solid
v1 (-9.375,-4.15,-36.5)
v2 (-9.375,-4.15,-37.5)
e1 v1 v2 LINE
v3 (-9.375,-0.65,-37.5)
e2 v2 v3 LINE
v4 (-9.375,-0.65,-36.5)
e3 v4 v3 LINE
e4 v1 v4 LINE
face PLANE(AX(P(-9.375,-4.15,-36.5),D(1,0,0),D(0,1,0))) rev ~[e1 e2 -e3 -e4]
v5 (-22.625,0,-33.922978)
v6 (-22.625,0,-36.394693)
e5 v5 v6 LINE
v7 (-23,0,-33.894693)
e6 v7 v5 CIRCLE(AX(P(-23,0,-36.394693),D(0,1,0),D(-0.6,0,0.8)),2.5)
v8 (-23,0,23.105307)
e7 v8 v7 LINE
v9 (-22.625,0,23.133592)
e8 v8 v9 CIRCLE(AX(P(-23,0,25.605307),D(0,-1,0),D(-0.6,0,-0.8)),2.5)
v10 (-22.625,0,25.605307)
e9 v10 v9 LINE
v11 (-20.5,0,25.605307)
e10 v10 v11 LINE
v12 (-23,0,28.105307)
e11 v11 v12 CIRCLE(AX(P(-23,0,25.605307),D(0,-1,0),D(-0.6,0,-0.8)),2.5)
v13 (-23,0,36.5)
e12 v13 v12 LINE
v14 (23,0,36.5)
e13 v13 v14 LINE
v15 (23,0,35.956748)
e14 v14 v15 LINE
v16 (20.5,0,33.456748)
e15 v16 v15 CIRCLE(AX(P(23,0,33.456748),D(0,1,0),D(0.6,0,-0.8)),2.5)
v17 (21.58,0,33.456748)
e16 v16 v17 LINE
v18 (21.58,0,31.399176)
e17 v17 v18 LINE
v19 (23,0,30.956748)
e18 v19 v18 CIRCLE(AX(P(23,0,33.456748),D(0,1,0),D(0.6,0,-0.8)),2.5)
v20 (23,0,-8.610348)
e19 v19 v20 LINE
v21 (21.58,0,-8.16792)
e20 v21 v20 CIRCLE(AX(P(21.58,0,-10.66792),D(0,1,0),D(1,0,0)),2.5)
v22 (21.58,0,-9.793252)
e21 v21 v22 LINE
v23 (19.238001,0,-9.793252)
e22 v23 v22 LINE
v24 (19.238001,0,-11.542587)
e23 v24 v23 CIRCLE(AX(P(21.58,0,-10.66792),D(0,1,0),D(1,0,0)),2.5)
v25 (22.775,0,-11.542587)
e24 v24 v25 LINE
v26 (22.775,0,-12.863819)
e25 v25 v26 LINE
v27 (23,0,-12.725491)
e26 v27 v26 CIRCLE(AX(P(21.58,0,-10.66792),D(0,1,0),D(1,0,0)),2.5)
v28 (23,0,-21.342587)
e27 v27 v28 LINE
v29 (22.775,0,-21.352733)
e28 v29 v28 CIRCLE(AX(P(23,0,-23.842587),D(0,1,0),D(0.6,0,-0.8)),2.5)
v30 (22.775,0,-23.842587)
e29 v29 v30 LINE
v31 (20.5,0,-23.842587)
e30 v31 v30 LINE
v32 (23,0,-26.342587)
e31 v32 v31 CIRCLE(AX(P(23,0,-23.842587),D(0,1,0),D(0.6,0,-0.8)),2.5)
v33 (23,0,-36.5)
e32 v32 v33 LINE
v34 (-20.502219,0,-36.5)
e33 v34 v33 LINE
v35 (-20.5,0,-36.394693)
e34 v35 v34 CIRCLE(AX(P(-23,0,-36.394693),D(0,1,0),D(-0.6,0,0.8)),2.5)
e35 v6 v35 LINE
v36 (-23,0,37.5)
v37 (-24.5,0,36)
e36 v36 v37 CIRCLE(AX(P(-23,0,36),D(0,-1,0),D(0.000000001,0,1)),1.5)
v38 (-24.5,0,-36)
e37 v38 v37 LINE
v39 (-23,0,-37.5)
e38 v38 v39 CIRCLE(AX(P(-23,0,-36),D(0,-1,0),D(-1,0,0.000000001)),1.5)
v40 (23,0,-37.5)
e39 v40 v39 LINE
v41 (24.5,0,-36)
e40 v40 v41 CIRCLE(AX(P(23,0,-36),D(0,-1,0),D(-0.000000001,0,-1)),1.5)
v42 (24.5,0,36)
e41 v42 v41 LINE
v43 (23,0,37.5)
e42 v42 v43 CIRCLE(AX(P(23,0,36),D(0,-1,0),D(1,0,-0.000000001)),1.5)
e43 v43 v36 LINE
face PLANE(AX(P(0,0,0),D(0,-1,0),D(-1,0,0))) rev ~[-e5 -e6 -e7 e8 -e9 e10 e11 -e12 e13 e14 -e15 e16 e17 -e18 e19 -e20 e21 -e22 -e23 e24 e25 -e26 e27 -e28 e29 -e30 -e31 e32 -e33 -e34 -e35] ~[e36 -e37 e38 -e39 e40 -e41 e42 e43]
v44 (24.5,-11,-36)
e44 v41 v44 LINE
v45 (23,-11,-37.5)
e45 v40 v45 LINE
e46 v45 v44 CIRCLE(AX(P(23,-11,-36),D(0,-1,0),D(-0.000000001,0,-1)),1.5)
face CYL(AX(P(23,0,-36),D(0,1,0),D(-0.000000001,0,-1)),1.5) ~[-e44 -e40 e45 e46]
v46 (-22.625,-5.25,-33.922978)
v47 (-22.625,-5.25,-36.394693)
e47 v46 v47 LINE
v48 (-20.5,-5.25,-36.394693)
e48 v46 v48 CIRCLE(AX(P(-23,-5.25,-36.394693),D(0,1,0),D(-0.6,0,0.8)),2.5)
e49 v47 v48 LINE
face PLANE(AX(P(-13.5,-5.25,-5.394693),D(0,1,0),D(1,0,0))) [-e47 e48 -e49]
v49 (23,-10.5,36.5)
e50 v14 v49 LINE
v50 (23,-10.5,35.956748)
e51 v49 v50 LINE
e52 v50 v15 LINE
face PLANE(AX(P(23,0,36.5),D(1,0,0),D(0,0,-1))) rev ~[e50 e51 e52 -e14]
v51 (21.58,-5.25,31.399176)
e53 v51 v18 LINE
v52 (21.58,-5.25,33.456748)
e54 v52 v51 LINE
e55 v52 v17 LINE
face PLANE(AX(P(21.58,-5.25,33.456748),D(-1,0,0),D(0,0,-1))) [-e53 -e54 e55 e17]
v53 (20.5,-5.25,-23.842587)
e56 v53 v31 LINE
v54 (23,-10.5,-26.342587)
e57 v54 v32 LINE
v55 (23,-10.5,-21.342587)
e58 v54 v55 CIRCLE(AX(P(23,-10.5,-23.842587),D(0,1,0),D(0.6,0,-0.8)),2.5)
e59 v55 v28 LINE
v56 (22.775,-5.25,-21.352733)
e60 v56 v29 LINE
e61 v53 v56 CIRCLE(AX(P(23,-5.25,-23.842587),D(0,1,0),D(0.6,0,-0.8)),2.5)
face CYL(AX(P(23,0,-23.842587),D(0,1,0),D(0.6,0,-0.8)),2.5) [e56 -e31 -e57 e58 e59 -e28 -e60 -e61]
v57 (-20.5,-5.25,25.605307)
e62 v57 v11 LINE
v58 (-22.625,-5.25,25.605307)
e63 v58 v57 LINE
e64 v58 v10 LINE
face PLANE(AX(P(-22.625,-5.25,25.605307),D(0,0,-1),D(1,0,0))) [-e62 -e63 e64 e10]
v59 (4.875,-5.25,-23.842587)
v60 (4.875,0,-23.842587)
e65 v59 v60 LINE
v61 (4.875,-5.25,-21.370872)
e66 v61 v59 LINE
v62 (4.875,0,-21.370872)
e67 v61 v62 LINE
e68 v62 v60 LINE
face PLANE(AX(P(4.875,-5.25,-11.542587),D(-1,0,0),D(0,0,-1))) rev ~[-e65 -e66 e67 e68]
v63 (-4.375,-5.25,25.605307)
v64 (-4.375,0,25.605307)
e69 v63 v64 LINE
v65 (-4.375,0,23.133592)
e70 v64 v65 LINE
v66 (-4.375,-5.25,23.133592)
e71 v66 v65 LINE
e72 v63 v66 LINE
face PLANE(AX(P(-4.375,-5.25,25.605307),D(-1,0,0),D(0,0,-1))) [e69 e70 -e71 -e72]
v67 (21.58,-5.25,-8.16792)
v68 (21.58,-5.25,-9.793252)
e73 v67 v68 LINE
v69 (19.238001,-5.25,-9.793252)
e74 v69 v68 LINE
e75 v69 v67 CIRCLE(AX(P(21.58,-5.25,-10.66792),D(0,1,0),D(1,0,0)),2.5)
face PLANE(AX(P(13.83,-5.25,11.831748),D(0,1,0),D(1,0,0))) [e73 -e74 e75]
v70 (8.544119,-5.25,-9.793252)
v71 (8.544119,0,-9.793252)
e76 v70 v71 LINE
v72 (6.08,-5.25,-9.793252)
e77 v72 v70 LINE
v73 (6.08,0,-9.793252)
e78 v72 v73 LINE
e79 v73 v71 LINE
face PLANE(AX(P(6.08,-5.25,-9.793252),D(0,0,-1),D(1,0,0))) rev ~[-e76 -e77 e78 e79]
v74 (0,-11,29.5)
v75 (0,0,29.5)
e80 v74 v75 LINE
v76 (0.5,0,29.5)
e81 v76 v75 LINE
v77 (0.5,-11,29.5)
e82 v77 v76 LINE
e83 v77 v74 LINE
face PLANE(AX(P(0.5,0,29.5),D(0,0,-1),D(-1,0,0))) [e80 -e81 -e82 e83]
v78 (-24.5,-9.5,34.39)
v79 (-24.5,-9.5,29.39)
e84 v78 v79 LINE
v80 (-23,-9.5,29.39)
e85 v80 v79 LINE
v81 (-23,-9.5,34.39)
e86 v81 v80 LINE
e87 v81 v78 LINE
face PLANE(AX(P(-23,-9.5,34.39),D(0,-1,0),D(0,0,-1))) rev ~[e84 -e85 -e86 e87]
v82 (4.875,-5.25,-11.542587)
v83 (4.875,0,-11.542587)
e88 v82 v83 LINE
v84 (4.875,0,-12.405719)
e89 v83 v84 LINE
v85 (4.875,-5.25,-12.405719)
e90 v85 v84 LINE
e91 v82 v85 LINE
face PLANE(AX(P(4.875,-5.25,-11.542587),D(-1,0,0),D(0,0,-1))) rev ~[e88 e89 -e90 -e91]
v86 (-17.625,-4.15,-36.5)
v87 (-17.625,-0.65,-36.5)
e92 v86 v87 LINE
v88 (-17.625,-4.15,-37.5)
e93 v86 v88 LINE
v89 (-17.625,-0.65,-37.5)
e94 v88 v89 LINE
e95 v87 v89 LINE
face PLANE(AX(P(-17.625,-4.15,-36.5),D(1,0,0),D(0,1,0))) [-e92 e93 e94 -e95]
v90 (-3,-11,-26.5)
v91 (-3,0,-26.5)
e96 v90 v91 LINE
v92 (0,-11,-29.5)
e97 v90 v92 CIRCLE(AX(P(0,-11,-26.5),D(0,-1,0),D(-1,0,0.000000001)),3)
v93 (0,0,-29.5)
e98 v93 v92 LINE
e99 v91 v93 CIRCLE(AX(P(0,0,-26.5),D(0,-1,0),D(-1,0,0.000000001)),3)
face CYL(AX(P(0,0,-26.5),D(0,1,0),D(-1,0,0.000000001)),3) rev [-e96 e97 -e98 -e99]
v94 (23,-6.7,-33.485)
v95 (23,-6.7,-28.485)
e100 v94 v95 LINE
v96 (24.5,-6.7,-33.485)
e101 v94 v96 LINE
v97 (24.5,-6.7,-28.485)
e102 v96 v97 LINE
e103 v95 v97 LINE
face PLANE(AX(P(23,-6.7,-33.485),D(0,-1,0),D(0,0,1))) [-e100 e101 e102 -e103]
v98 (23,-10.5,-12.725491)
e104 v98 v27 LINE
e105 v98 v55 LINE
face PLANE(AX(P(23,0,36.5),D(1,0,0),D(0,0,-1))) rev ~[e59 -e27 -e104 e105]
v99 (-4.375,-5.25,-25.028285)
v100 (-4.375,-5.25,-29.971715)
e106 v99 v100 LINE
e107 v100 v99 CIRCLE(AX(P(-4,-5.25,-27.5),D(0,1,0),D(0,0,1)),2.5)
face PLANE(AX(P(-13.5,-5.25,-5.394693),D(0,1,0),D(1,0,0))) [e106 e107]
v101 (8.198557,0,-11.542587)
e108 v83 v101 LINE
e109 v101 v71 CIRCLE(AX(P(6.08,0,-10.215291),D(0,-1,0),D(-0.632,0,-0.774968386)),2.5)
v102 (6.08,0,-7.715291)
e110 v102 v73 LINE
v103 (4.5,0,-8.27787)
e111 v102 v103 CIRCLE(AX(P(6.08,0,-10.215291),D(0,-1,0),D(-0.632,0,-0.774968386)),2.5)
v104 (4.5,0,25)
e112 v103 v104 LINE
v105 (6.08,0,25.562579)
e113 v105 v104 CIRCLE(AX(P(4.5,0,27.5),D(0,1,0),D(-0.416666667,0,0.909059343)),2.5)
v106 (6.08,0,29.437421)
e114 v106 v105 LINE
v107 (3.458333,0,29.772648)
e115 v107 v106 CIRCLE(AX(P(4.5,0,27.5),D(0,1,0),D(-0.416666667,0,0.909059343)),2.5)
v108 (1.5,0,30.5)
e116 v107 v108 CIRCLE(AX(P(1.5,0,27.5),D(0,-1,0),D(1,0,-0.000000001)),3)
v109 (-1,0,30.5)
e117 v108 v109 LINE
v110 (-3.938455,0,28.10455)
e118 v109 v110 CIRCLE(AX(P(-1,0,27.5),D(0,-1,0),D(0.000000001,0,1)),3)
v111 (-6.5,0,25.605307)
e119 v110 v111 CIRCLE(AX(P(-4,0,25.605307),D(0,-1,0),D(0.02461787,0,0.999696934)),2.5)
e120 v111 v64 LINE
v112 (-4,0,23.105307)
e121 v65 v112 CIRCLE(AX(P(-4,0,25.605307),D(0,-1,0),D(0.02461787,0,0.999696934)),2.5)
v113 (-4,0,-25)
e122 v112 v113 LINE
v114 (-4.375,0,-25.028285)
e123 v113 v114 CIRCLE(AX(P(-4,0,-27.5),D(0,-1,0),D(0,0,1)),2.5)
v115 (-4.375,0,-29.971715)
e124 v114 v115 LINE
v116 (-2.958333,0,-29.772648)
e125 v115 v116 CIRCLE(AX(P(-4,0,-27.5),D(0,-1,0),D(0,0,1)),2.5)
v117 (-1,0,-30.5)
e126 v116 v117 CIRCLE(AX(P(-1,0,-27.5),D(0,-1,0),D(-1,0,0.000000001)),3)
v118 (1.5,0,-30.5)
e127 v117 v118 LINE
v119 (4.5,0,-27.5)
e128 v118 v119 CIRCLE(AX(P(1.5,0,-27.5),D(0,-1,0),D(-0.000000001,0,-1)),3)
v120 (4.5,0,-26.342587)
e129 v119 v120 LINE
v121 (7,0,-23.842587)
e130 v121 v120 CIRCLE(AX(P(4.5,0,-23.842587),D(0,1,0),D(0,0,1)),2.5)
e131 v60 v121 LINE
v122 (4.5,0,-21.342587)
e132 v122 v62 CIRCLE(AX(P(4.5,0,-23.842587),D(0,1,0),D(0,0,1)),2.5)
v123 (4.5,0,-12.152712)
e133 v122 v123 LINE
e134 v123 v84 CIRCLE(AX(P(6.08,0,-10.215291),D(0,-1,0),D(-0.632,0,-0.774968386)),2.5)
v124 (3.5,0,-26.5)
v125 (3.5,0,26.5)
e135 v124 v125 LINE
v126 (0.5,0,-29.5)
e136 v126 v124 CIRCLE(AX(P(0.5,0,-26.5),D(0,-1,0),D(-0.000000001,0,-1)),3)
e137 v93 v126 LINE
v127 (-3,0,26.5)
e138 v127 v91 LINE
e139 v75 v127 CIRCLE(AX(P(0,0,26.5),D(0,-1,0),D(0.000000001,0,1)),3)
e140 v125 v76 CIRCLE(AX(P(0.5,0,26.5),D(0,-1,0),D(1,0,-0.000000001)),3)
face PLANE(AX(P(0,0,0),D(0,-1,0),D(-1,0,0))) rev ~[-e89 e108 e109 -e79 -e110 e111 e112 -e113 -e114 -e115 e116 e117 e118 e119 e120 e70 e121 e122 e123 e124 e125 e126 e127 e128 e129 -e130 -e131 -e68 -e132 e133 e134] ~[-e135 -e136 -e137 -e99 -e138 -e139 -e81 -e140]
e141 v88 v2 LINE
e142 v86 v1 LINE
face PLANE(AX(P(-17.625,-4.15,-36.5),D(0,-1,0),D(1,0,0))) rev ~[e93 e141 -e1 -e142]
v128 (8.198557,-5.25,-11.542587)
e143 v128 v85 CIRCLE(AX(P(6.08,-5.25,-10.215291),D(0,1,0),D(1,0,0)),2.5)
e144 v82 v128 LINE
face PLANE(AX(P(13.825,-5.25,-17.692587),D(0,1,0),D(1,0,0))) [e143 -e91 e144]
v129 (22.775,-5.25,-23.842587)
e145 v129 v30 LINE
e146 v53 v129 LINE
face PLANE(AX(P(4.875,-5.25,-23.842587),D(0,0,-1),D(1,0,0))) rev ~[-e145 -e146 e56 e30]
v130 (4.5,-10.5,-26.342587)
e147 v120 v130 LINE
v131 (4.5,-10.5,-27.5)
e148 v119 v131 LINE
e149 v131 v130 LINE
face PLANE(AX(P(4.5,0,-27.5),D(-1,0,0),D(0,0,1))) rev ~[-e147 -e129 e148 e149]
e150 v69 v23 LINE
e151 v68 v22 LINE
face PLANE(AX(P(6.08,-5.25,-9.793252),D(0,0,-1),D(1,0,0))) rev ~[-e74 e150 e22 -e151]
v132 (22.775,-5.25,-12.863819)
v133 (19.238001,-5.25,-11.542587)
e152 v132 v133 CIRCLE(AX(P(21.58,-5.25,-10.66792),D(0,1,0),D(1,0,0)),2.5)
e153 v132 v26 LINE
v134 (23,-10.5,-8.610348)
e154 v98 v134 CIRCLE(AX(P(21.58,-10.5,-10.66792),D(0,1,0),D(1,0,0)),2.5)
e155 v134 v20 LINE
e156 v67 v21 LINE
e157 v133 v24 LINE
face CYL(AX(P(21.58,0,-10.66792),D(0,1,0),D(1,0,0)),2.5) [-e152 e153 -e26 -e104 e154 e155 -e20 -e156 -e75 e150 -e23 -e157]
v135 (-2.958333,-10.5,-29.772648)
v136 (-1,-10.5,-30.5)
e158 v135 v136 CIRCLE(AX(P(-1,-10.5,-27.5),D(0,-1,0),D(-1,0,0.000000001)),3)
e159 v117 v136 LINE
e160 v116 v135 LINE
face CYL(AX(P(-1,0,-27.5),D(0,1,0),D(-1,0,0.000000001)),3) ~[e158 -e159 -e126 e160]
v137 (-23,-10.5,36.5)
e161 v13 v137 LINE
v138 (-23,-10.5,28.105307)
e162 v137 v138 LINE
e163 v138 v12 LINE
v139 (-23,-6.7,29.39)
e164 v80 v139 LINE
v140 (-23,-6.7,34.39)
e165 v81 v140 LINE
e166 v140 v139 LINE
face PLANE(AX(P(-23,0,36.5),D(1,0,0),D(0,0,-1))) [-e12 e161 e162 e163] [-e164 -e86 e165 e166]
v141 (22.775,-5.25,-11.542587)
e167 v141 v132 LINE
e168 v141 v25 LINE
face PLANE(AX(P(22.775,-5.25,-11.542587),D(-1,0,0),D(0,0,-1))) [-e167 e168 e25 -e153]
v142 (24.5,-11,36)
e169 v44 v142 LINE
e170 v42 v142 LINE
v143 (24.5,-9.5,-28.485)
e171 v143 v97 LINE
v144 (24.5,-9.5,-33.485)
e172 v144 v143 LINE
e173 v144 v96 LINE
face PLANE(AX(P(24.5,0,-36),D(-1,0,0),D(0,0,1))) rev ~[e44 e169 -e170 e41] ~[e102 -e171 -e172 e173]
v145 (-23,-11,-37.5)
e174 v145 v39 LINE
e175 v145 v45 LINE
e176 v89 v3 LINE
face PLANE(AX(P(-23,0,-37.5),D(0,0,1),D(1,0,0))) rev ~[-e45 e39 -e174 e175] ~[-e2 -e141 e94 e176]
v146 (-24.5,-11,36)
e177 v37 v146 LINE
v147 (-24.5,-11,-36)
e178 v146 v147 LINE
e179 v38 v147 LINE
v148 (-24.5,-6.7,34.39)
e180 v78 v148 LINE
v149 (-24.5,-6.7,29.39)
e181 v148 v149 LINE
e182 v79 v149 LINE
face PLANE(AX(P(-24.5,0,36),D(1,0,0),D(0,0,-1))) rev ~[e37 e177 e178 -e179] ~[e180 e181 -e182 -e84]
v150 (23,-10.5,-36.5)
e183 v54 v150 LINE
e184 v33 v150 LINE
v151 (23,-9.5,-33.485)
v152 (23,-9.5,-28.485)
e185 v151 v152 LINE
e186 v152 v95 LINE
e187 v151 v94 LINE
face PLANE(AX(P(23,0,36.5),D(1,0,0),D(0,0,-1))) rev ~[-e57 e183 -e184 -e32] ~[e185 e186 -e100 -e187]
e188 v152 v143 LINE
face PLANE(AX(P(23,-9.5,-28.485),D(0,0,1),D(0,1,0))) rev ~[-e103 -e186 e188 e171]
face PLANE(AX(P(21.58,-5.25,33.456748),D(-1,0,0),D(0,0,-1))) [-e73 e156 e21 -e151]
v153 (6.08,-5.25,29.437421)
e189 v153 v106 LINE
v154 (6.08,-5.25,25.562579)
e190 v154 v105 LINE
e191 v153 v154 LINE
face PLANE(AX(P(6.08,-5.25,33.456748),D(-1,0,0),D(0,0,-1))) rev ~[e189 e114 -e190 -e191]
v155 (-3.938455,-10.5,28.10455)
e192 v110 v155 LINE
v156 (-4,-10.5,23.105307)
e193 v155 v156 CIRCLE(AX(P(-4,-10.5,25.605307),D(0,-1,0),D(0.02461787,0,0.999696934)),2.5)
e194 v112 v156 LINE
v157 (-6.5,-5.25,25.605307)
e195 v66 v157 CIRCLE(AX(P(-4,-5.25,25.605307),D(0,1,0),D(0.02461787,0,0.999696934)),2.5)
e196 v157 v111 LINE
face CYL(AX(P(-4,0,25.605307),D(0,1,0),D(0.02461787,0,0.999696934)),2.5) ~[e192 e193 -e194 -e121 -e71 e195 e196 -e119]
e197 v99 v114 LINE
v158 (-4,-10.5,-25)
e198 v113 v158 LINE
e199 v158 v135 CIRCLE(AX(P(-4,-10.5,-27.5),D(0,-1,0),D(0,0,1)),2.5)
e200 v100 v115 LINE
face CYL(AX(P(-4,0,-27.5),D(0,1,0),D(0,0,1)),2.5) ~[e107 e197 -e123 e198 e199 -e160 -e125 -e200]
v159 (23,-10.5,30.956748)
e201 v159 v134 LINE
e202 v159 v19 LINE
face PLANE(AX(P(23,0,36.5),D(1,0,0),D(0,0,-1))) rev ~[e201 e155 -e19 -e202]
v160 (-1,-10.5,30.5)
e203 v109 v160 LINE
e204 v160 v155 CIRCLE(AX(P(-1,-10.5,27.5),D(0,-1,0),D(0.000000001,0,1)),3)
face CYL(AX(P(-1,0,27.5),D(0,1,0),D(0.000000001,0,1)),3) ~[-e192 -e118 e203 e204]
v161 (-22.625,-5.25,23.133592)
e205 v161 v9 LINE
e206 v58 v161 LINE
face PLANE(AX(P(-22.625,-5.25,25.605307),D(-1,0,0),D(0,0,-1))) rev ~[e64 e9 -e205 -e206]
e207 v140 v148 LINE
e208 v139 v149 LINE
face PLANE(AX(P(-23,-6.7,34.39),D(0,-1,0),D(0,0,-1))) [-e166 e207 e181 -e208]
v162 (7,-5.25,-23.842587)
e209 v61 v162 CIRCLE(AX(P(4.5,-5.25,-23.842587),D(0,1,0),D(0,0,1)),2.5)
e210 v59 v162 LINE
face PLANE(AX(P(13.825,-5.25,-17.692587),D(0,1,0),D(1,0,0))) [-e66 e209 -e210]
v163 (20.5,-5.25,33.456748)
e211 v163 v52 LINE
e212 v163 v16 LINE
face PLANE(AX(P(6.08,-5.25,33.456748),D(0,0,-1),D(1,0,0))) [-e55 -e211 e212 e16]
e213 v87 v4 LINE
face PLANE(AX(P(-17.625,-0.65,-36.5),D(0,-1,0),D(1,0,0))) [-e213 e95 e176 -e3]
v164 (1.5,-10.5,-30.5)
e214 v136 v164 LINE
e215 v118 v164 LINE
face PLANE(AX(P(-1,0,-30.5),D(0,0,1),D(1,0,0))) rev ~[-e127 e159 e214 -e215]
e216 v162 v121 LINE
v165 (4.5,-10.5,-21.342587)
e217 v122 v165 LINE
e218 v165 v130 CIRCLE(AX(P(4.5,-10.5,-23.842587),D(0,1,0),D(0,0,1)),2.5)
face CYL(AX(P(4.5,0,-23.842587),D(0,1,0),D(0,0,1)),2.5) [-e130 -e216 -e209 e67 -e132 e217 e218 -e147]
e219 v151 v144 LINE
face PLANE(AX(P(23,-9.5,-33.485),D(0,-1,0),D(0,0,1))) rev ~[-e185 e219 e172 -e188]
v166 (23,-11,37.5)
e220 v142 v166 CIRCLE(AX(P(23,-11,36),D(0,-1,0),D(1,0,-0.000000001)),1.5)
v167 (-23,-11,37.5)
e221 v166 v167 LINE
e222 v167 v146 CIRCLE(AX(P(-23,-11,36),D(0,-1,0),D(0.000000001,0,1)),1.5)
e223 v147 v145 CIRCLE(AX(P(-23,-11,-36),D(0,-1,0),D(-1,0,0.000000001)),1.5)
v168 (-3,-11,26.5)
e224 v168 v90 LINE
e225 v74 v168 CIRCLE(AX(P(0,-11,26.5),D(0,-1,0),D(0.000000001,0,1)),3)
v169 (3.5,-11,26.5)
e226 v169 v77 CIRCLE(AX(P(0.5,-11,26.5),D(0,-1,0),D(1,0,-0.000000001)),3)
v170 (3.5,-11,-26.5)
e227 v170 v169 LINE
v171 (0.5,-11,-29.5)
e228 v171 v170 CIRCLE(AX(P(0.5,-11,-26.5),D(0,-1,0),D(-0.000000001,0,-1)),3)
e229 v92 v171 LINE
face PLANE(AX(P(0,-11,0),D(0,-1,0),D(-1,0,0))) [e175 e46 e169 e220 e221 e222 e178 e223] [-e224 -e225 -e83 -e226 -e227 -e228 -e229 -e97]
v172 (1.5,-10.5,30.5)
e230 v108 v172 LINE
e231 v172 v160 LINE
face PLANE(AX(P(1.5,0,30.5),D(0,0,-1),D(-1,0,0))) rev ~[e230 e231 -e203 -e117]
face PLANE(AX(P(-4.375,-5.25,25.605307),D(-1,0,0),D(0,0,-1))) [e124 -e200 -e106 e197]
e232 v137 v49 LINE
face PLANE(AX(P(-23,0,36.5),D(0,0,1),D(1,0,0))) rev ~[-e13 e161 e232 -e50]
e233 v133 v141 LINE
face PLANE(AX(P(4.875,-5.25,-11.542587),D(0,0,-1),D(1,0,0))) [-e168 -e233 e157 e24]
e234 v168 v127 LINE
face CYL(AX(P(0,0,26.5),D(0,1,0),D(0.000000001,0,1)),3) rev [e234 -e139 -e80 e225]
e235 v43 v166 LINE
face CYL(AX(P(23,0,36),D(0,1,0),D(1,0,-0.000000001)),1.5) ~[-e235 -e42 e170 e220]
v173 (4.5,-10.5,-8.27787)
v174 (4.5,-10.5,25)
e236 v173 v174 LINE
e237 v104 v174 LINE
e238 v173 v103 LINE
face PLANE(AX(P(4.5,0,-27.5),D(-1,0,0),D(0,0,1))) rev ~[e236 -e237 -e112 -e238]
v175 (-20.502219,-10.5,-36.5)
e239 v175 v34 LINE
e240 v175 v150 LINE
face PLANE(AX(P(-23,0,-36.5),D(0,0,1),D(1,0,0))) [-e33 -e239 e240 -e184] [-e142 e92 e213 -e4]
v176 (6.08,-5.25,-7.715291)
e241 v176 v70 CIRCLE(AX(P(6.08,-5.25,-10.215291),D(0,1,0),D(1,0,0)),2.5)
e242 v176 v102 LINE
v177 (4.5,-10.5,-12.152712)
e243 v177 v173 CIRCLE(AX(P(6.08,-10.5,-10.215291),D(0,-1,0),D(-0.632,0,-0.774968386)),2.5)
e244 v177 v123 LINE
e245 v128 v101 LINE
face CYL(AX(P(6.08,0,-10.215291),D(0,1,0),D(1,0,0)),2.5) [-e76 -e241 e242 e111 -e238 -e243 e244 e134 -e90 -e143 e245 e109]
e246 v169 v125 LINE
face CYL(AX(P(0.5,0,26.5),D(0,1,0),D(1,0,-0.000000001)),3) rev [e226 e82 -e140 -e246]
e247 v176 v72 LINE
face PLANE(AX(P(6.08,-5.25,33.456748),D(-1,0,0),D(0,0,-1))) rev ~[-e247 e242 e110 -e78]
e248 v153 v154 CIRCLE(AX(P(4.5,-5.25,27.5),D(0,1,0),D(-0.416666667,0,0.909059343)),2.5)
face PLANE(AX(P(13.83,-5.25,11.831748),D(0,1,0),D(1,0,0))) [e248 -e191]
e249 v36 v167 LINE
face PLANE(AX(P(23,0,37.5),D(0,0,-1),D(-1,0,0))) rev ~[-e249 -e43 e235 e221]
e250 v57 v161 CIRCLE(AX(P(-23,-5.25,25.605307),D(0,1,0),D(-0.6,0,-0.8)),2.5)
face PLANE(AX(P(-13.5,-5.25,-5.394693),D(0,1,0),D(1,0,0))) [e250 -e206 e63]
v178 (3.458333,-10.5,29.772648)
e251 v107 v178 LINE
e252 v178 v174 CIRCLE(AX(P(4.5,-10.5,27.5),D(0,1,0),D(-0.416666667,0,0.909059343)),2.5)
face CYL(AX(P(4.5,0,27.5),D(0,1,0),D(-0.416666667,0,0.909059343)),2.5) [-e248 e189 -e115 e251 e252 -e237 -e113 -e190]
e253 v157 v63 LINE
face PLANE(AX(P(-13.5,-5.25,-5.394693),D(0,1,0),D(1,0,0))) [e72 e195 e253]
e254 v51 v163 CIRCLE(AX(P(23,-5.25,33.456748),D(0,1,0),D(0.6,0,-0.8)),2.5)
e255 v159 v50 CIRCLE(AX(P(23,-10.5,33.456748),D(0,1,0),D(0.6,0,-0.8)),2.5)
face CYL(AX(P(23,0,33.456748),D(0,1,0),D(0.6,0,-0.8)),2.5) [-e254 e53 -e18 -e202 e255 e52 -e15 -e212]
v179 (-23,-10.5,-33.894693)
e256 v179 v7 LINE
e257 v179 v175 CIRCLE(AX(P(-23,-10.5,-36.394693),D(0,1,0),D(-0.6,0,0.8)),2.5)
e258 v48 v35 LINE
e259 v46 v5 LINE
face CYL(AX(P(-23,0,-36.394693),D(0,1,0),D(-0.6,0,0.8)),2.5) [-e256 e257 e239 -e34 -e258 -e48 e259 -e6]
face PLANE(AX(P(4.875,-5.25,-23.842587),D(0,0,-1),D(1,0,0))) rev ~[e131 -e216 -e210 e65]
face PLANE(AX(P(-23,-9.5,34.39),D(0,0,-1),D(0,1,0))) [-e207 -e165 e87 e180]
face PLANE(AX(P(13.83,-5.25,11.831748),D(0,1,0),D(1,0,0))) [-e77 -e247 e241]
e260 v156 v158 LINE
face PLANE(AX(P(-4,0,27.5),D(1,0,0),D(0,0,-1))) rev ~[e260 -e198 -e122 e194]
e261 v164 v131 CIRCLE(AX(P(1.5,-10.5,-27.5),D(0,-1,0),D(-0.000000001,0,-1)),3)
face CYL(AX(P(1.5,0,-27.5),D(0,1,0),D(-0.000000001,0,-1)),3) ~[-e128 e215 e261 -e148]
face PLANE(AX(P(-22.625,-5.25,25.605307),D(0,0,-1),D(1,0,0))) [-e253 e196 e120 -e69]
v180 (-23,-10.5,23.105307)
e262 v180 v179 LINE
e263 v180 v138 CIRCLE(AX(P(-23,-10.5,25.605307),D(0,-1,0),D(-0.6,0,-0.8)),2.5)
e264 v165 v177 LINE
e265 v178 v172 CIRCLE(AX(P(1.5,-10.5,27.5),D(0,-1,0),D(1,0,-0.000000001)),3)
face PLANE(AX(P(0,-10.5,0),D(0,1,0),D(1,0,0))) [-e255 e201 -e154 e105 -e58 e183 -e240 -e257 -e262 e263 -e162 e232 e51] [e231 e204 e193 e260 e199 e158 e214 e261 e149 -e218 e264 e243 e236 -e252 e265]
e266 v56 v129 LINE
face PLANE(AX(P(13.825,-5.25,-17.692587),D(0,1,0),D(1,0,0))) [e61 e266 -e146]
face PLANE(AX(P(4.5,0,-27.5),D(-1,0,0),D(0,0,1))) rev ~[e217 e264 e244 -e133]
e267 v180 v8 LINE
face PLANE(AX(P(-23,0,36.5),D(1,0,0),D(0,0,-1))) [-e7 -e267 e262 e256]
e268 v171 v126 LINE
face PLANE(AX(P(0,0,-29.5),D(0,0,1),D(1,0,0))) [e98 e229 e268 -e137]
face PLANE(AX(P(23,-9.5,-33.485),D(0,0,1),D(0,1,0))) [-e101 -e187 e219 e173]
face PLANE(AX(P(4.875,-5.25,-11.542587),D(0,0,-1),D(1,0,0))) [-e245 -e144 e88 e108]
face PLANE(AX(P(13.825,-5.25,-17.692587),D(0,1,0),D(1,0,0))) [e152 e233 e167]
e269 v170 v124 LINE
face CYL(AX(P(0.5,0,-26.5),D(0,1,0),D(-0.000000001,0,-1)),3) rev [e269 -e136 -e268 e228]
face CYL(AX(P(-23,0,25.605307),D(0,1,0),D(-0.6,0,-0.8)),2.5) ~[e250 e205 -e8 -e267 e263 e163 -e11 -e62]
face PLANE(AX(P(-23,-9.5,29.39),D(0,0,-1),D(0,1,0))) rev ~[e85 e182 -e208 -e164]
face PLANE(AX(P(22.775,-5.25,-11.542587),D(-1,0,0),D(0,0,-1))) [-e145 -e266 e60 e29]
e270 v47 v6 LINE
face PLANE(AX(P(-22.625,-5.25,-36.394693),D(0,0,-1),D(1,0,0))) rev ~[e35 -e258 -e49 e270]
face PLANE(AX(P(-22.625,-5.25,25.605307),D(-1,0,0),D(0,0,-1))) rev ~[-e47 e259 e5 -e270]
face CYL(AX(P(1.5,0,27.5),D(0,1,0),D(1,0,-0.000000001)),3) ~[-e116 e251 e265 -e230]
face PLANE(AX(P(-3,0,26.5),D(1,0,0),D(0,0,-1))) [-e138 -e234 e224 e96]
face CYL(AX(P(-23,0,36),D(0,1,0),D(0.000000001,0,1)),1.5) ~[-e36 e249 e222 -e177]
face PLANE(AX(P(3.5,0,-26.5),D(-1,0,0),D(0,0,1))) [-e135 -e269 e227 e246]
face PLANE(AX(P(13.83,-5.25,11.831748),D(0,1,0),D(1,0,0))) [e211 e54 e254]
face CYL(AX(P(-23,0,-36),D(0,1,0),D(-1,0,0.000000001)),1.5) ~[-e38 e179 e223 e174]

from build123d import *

# Parameters (mm, degrees)
BOSS_EXTRUDE1_DEPTH = 11
SKETCH8_W           = 46
SKETCH8_H           = 73
CUT_EXTRUDE1_DEPTH  = 10.5
BOSS_EXTRUDE2_START = 10.5
SKETCH9_R           = 2.5
BOSS_EXTRUDE2_DEPTH = 10.5
SKETCH10_W          = 15.5
SKETCH10_H          = 43.25
SKETCH10_W_2        = 17.9
SKETCH10_H_2        = 12.3
SKETCH10_W_3        = 18.25
SKETCH10_H_3        = 62
CUT_EXTRUDE3_DEPTH  = 5.25
SKETCH11_W          = 5
SKETCH11_H          = 2.8
CUT_EXTRUDE4_DEPTH  = 5
SKETCH12_W          = 5
SKETCH12_H          = 2.8
CUT_EXTRUDE5_DEPTH  = 5
SKETCH14_W          = 8.25
SKETCH14_H          = 3.5
CUT_EXTRUDE6_DEPTH  = 5


with BuildPart() as part:
    # Sketch2 → Boss-Extrude1 (new body)
    with BuildSketch(Plane(origin=(0, 0, 0), x_dir=(1, 0, 0), z_dir=(0, 1, 0))):
        with BuildLine():
            Line((23, -37.5), (-23, -37.5))
            ThreePointArc((-23, -37.5), (-24.060660172, -37.060660172), (-24.5, -36))
            Line((-24.5, -36), (-24.5, 36))
            ThreePointArc((-24.5, 36), (-24.060660172, 37.060660172), (-23, 37.5))
            Line((-23, 37.5), (23, 37.5))
            ThreePointArc((23, 37.5), (24.060660172, 37.060660172), (24.5, 36))
            Line((24.5, 36), (24.5, -36))
            ThreePointArc((24.5, -36), (24.060660172, -37.060660172), (23, -37.5))
        make_face()
        with BuildLine():
            Line((0, 29.5), (0.5, 29.5))
            ThreePointArc((0.5, 29.5), (2.621320344, 28.621320344), (3.5, 26.5))
            Line((3.5, 26.5), (3.5, -26.5))
            ThreePointArc((3.5, -26.5), (2.621320344, -28.621320344), (0.5, -29.5))
            Line((0.5, -29.5), (0, -29.5))
            ThreePointArc((0, -29.5), (-2.121320344, -28.621320344), (-3, -26.5))
            Line((-3, -26.5), (-3, 26.5))
            ThreePointArc((-3, 26.5), (-2.121320344, 28.621320344), (0, 29.5))
        make_face(mode=Mode.SUBTRACT)
    extrude(amount=-BOSS_EXTRUDE1_DEPTH)

    # Sketch8 → Cut-Extrude1 (cut)
    # profile 1 of 2: a face of its own
    with BuildSketch(Plane(origin=(0, 0, 0), x_dir=(1, 0, 0), z_dir=(0, 1, 0))):
        Rectangle(SKETCH8_W, SKETCH8_H)
        with BuildLine():
            Line((-1, 30.5), (1.5, 30.5))
            ThreePointArc((1.5, 30.5), (3.621320344, 29.621320344), (4.5, 27.5))
            Line((4.5, 27.5), (4.5, -27.5))
            ThreePointArc((4.5, -27.5), (3.621320344, -29.621320344), (1.5, -30.5))
            Line((1.5, -30.5), (-1, -30.5))
            ThreePointArc((-1, -30.5), (-3.121320344, -29.621320344), (-4, -27.5))
            Line((-4, -27.5), (-4, 27.5))
            ThreePointArc((-4, 27.5), (-3.121320344, 29.621320344), (-1, 30.5))
        make_face(mode=Mode.SUBTRACT)
    # profile 2 of 2: a face of its own
    with BuildSketch(Plane(origin=(0, 0, 0), x_dir=(1, 0, 0), z_dir=(0, 1, 0))):
        with BuildLine():
            Line((0, 29.5), (0.5, 29.5))
            ThreePointArc((0.5, 29.5), (2.621320344, 28.621320344), (3.5, 26.5))
            Line((3.5, 26.5), (3.5, -26.5))
            ThreePointArc((3.5, -26.5), (2.621320344, -28.621320344), (0.5, -29.5))
            Line((0.5, -29.5), (0, -29.5))
            ThreePointArc((0, -29.5), (-2.121320344, -28.621320344), (-3, -26.5))
            Line((-3, -26.5), (-3, 26.5))
            ThreePointArc((-3, 26.5), (-2.121320344, 28.621320344), (0, 29.5))
        make_face()
    extrude(amount=-CUT_EXTRUDE1_DEPTH, mode=Mode.SUBTRACT)

    # Sketch9 → Boss-Extrude2 (add)
    with BuildSketch(Plane(origin=(0, -10.5, 0), x_dir=(1, 0, 0), z_dir=(0, 1, 0)).offset(BOSS_EXTRUDE2_START)):
        with Locations((21.58, 10.667919779)):
            Circle(SKETCH9_R)
        with Locations((6.08, 10.21529089)):
            Circle(SKETCH9_R)
        with BuildLine():
            Line((24.5, -35.456747529), (24.5, -31.456747529))
            ThreePointArc((24.5, -31.456747529), (20.5, -33.456747529), (24.5, -35.456747529))
        make_face()
        with BuildLine():
            Line((4.5, 26.342587088), (4.5, 21.342587088))
            ThreePointArc((4.5, 21.342587088), (7, 23.842587088), (4.5, 26.342587088))
        make_face()
        with BuildLine():
            Line((-4, 27.5), (-4, 25))
            ThreePointArc((-4, 25), (-6.442500859, 28.033094319), (-2.958333333, 29.772648357))
            ThreePointArc((-2.958333333, 29.772648357), (-3.727178029, 28.75), (-4, 27.5))
        make_face()
        with BuildLine():
            Line((-24.5, -27.605307327), (-24.5, -23.605307327))
            ThreePointArc((-24.5, -23.605307327), (-20.5, -25.605307327), (-24.5, -27.605307327))
        make_face()
        with BuildLine():
            Line((-20.757613835, 37.5), (-23, 37.5))
            ThreePointArc((-23, 37.5), (-24.060660172, 37.060660172), (-24.5, 36))
            Line((-24.5, 36), (-24.5, 34.394692673))
            ThreePointArc((-24.5, 34.394692673), (-21.40359225, 34.470769001), (-20.757613835, 37.5))
        make_face()
        with BuildLine():
            Line((24.5, 21.842587088), (24.5, 25.842587088))
            ThreePointArc((24.5, 25.842587088), (20.5, 23.842587088), (24.5, 21.842587088))
        make_face()
        with BuildLine():
            Line((-4, -23.105307327), (-4, -27.5))
            ThreePointArc((-4, -27.5), (-3.984574172, -27.803837144), (-3.938455326, -28.104549663))
            ThreePointArc((-3.938455326, -28.104549663), (-6.499810577, -25.636081995), (-4, -23.105307327))
        make_face()
        with BuildLine():
            Line((4.5, -25), (4.5, -27.5))
            ThreePointArc((4.5, -27.5), (4.227178029, -28.75), (3.458333333, -29.772648357))
            ThreePointArc((3.458333333, -29.772648357), (6.942500859, -28.033094319), (4.5, -25))
        make_face()
    extrude(amount=-BOSS_EXTRUDE2_DEPTH)

    # Sketch10 → Cut-Extrude3 (cut)
    with BuildSketch(Plane(origin=(0, -5.25, 0), x_dir=(1, 0, 0), z_dir=(0, 1, 0))):
        with Locations((13.83, -11.831747529)):
            Rectangle(SKETCH10_W, SKETCH10_H)
        with Locations((13.825, 17.692587088)):
            Rectangle(SKETCH10_W_2, SKETCH10_H_2)
        with Locations((-13.5, 5.394692673)):
            Rectangle(SKETCH10_W_3, SKETCH10_H_3)
    extrude(amount=CUT_EXTRUDE3_DEPTH, mode=Mode.SUBTRACT)

    # Sketch11 → Cut-Extrude4 (cut)
    with BuildSketch(Plane.ZY.offset(-23)):
        with Locations((-30.985, -8.1)):
            Rectangle(SKETCH11_W, SKETCH11_H)
    extrude(amount=-CUT_EXTRUDE4_DEPTH, mode=Mode.SUBTRACT)

    # Sketch12 → Cut-Extrude5 (cut)
    with BuildSketch(Plane(origin=(-23, 0, 0), x_dir=(0, 0, -1), z_dir=(1, 0, 0))):
        with Locations((-31.89, -8.1)):
            Rectangle(SKETCH12_W, SKETCH12_H)
    extrude(amount=-CUT_EXTRUDE5_DEPTH, mode=Mode.SUBTRACT)

    # Sketch14 → Cut-Extrude6 (cut)
    with BuildSketch(Plane.XY.offset(-36.5)):
        with Locations((-13.5, -2.4)):
            Rectangle(SKETCH14_W, SKETCH14_H)
    extrude(amount=-CUT_EXTRUDE6_DEPTH, mode=Mode.SUBTRACT)


solid = part.part
